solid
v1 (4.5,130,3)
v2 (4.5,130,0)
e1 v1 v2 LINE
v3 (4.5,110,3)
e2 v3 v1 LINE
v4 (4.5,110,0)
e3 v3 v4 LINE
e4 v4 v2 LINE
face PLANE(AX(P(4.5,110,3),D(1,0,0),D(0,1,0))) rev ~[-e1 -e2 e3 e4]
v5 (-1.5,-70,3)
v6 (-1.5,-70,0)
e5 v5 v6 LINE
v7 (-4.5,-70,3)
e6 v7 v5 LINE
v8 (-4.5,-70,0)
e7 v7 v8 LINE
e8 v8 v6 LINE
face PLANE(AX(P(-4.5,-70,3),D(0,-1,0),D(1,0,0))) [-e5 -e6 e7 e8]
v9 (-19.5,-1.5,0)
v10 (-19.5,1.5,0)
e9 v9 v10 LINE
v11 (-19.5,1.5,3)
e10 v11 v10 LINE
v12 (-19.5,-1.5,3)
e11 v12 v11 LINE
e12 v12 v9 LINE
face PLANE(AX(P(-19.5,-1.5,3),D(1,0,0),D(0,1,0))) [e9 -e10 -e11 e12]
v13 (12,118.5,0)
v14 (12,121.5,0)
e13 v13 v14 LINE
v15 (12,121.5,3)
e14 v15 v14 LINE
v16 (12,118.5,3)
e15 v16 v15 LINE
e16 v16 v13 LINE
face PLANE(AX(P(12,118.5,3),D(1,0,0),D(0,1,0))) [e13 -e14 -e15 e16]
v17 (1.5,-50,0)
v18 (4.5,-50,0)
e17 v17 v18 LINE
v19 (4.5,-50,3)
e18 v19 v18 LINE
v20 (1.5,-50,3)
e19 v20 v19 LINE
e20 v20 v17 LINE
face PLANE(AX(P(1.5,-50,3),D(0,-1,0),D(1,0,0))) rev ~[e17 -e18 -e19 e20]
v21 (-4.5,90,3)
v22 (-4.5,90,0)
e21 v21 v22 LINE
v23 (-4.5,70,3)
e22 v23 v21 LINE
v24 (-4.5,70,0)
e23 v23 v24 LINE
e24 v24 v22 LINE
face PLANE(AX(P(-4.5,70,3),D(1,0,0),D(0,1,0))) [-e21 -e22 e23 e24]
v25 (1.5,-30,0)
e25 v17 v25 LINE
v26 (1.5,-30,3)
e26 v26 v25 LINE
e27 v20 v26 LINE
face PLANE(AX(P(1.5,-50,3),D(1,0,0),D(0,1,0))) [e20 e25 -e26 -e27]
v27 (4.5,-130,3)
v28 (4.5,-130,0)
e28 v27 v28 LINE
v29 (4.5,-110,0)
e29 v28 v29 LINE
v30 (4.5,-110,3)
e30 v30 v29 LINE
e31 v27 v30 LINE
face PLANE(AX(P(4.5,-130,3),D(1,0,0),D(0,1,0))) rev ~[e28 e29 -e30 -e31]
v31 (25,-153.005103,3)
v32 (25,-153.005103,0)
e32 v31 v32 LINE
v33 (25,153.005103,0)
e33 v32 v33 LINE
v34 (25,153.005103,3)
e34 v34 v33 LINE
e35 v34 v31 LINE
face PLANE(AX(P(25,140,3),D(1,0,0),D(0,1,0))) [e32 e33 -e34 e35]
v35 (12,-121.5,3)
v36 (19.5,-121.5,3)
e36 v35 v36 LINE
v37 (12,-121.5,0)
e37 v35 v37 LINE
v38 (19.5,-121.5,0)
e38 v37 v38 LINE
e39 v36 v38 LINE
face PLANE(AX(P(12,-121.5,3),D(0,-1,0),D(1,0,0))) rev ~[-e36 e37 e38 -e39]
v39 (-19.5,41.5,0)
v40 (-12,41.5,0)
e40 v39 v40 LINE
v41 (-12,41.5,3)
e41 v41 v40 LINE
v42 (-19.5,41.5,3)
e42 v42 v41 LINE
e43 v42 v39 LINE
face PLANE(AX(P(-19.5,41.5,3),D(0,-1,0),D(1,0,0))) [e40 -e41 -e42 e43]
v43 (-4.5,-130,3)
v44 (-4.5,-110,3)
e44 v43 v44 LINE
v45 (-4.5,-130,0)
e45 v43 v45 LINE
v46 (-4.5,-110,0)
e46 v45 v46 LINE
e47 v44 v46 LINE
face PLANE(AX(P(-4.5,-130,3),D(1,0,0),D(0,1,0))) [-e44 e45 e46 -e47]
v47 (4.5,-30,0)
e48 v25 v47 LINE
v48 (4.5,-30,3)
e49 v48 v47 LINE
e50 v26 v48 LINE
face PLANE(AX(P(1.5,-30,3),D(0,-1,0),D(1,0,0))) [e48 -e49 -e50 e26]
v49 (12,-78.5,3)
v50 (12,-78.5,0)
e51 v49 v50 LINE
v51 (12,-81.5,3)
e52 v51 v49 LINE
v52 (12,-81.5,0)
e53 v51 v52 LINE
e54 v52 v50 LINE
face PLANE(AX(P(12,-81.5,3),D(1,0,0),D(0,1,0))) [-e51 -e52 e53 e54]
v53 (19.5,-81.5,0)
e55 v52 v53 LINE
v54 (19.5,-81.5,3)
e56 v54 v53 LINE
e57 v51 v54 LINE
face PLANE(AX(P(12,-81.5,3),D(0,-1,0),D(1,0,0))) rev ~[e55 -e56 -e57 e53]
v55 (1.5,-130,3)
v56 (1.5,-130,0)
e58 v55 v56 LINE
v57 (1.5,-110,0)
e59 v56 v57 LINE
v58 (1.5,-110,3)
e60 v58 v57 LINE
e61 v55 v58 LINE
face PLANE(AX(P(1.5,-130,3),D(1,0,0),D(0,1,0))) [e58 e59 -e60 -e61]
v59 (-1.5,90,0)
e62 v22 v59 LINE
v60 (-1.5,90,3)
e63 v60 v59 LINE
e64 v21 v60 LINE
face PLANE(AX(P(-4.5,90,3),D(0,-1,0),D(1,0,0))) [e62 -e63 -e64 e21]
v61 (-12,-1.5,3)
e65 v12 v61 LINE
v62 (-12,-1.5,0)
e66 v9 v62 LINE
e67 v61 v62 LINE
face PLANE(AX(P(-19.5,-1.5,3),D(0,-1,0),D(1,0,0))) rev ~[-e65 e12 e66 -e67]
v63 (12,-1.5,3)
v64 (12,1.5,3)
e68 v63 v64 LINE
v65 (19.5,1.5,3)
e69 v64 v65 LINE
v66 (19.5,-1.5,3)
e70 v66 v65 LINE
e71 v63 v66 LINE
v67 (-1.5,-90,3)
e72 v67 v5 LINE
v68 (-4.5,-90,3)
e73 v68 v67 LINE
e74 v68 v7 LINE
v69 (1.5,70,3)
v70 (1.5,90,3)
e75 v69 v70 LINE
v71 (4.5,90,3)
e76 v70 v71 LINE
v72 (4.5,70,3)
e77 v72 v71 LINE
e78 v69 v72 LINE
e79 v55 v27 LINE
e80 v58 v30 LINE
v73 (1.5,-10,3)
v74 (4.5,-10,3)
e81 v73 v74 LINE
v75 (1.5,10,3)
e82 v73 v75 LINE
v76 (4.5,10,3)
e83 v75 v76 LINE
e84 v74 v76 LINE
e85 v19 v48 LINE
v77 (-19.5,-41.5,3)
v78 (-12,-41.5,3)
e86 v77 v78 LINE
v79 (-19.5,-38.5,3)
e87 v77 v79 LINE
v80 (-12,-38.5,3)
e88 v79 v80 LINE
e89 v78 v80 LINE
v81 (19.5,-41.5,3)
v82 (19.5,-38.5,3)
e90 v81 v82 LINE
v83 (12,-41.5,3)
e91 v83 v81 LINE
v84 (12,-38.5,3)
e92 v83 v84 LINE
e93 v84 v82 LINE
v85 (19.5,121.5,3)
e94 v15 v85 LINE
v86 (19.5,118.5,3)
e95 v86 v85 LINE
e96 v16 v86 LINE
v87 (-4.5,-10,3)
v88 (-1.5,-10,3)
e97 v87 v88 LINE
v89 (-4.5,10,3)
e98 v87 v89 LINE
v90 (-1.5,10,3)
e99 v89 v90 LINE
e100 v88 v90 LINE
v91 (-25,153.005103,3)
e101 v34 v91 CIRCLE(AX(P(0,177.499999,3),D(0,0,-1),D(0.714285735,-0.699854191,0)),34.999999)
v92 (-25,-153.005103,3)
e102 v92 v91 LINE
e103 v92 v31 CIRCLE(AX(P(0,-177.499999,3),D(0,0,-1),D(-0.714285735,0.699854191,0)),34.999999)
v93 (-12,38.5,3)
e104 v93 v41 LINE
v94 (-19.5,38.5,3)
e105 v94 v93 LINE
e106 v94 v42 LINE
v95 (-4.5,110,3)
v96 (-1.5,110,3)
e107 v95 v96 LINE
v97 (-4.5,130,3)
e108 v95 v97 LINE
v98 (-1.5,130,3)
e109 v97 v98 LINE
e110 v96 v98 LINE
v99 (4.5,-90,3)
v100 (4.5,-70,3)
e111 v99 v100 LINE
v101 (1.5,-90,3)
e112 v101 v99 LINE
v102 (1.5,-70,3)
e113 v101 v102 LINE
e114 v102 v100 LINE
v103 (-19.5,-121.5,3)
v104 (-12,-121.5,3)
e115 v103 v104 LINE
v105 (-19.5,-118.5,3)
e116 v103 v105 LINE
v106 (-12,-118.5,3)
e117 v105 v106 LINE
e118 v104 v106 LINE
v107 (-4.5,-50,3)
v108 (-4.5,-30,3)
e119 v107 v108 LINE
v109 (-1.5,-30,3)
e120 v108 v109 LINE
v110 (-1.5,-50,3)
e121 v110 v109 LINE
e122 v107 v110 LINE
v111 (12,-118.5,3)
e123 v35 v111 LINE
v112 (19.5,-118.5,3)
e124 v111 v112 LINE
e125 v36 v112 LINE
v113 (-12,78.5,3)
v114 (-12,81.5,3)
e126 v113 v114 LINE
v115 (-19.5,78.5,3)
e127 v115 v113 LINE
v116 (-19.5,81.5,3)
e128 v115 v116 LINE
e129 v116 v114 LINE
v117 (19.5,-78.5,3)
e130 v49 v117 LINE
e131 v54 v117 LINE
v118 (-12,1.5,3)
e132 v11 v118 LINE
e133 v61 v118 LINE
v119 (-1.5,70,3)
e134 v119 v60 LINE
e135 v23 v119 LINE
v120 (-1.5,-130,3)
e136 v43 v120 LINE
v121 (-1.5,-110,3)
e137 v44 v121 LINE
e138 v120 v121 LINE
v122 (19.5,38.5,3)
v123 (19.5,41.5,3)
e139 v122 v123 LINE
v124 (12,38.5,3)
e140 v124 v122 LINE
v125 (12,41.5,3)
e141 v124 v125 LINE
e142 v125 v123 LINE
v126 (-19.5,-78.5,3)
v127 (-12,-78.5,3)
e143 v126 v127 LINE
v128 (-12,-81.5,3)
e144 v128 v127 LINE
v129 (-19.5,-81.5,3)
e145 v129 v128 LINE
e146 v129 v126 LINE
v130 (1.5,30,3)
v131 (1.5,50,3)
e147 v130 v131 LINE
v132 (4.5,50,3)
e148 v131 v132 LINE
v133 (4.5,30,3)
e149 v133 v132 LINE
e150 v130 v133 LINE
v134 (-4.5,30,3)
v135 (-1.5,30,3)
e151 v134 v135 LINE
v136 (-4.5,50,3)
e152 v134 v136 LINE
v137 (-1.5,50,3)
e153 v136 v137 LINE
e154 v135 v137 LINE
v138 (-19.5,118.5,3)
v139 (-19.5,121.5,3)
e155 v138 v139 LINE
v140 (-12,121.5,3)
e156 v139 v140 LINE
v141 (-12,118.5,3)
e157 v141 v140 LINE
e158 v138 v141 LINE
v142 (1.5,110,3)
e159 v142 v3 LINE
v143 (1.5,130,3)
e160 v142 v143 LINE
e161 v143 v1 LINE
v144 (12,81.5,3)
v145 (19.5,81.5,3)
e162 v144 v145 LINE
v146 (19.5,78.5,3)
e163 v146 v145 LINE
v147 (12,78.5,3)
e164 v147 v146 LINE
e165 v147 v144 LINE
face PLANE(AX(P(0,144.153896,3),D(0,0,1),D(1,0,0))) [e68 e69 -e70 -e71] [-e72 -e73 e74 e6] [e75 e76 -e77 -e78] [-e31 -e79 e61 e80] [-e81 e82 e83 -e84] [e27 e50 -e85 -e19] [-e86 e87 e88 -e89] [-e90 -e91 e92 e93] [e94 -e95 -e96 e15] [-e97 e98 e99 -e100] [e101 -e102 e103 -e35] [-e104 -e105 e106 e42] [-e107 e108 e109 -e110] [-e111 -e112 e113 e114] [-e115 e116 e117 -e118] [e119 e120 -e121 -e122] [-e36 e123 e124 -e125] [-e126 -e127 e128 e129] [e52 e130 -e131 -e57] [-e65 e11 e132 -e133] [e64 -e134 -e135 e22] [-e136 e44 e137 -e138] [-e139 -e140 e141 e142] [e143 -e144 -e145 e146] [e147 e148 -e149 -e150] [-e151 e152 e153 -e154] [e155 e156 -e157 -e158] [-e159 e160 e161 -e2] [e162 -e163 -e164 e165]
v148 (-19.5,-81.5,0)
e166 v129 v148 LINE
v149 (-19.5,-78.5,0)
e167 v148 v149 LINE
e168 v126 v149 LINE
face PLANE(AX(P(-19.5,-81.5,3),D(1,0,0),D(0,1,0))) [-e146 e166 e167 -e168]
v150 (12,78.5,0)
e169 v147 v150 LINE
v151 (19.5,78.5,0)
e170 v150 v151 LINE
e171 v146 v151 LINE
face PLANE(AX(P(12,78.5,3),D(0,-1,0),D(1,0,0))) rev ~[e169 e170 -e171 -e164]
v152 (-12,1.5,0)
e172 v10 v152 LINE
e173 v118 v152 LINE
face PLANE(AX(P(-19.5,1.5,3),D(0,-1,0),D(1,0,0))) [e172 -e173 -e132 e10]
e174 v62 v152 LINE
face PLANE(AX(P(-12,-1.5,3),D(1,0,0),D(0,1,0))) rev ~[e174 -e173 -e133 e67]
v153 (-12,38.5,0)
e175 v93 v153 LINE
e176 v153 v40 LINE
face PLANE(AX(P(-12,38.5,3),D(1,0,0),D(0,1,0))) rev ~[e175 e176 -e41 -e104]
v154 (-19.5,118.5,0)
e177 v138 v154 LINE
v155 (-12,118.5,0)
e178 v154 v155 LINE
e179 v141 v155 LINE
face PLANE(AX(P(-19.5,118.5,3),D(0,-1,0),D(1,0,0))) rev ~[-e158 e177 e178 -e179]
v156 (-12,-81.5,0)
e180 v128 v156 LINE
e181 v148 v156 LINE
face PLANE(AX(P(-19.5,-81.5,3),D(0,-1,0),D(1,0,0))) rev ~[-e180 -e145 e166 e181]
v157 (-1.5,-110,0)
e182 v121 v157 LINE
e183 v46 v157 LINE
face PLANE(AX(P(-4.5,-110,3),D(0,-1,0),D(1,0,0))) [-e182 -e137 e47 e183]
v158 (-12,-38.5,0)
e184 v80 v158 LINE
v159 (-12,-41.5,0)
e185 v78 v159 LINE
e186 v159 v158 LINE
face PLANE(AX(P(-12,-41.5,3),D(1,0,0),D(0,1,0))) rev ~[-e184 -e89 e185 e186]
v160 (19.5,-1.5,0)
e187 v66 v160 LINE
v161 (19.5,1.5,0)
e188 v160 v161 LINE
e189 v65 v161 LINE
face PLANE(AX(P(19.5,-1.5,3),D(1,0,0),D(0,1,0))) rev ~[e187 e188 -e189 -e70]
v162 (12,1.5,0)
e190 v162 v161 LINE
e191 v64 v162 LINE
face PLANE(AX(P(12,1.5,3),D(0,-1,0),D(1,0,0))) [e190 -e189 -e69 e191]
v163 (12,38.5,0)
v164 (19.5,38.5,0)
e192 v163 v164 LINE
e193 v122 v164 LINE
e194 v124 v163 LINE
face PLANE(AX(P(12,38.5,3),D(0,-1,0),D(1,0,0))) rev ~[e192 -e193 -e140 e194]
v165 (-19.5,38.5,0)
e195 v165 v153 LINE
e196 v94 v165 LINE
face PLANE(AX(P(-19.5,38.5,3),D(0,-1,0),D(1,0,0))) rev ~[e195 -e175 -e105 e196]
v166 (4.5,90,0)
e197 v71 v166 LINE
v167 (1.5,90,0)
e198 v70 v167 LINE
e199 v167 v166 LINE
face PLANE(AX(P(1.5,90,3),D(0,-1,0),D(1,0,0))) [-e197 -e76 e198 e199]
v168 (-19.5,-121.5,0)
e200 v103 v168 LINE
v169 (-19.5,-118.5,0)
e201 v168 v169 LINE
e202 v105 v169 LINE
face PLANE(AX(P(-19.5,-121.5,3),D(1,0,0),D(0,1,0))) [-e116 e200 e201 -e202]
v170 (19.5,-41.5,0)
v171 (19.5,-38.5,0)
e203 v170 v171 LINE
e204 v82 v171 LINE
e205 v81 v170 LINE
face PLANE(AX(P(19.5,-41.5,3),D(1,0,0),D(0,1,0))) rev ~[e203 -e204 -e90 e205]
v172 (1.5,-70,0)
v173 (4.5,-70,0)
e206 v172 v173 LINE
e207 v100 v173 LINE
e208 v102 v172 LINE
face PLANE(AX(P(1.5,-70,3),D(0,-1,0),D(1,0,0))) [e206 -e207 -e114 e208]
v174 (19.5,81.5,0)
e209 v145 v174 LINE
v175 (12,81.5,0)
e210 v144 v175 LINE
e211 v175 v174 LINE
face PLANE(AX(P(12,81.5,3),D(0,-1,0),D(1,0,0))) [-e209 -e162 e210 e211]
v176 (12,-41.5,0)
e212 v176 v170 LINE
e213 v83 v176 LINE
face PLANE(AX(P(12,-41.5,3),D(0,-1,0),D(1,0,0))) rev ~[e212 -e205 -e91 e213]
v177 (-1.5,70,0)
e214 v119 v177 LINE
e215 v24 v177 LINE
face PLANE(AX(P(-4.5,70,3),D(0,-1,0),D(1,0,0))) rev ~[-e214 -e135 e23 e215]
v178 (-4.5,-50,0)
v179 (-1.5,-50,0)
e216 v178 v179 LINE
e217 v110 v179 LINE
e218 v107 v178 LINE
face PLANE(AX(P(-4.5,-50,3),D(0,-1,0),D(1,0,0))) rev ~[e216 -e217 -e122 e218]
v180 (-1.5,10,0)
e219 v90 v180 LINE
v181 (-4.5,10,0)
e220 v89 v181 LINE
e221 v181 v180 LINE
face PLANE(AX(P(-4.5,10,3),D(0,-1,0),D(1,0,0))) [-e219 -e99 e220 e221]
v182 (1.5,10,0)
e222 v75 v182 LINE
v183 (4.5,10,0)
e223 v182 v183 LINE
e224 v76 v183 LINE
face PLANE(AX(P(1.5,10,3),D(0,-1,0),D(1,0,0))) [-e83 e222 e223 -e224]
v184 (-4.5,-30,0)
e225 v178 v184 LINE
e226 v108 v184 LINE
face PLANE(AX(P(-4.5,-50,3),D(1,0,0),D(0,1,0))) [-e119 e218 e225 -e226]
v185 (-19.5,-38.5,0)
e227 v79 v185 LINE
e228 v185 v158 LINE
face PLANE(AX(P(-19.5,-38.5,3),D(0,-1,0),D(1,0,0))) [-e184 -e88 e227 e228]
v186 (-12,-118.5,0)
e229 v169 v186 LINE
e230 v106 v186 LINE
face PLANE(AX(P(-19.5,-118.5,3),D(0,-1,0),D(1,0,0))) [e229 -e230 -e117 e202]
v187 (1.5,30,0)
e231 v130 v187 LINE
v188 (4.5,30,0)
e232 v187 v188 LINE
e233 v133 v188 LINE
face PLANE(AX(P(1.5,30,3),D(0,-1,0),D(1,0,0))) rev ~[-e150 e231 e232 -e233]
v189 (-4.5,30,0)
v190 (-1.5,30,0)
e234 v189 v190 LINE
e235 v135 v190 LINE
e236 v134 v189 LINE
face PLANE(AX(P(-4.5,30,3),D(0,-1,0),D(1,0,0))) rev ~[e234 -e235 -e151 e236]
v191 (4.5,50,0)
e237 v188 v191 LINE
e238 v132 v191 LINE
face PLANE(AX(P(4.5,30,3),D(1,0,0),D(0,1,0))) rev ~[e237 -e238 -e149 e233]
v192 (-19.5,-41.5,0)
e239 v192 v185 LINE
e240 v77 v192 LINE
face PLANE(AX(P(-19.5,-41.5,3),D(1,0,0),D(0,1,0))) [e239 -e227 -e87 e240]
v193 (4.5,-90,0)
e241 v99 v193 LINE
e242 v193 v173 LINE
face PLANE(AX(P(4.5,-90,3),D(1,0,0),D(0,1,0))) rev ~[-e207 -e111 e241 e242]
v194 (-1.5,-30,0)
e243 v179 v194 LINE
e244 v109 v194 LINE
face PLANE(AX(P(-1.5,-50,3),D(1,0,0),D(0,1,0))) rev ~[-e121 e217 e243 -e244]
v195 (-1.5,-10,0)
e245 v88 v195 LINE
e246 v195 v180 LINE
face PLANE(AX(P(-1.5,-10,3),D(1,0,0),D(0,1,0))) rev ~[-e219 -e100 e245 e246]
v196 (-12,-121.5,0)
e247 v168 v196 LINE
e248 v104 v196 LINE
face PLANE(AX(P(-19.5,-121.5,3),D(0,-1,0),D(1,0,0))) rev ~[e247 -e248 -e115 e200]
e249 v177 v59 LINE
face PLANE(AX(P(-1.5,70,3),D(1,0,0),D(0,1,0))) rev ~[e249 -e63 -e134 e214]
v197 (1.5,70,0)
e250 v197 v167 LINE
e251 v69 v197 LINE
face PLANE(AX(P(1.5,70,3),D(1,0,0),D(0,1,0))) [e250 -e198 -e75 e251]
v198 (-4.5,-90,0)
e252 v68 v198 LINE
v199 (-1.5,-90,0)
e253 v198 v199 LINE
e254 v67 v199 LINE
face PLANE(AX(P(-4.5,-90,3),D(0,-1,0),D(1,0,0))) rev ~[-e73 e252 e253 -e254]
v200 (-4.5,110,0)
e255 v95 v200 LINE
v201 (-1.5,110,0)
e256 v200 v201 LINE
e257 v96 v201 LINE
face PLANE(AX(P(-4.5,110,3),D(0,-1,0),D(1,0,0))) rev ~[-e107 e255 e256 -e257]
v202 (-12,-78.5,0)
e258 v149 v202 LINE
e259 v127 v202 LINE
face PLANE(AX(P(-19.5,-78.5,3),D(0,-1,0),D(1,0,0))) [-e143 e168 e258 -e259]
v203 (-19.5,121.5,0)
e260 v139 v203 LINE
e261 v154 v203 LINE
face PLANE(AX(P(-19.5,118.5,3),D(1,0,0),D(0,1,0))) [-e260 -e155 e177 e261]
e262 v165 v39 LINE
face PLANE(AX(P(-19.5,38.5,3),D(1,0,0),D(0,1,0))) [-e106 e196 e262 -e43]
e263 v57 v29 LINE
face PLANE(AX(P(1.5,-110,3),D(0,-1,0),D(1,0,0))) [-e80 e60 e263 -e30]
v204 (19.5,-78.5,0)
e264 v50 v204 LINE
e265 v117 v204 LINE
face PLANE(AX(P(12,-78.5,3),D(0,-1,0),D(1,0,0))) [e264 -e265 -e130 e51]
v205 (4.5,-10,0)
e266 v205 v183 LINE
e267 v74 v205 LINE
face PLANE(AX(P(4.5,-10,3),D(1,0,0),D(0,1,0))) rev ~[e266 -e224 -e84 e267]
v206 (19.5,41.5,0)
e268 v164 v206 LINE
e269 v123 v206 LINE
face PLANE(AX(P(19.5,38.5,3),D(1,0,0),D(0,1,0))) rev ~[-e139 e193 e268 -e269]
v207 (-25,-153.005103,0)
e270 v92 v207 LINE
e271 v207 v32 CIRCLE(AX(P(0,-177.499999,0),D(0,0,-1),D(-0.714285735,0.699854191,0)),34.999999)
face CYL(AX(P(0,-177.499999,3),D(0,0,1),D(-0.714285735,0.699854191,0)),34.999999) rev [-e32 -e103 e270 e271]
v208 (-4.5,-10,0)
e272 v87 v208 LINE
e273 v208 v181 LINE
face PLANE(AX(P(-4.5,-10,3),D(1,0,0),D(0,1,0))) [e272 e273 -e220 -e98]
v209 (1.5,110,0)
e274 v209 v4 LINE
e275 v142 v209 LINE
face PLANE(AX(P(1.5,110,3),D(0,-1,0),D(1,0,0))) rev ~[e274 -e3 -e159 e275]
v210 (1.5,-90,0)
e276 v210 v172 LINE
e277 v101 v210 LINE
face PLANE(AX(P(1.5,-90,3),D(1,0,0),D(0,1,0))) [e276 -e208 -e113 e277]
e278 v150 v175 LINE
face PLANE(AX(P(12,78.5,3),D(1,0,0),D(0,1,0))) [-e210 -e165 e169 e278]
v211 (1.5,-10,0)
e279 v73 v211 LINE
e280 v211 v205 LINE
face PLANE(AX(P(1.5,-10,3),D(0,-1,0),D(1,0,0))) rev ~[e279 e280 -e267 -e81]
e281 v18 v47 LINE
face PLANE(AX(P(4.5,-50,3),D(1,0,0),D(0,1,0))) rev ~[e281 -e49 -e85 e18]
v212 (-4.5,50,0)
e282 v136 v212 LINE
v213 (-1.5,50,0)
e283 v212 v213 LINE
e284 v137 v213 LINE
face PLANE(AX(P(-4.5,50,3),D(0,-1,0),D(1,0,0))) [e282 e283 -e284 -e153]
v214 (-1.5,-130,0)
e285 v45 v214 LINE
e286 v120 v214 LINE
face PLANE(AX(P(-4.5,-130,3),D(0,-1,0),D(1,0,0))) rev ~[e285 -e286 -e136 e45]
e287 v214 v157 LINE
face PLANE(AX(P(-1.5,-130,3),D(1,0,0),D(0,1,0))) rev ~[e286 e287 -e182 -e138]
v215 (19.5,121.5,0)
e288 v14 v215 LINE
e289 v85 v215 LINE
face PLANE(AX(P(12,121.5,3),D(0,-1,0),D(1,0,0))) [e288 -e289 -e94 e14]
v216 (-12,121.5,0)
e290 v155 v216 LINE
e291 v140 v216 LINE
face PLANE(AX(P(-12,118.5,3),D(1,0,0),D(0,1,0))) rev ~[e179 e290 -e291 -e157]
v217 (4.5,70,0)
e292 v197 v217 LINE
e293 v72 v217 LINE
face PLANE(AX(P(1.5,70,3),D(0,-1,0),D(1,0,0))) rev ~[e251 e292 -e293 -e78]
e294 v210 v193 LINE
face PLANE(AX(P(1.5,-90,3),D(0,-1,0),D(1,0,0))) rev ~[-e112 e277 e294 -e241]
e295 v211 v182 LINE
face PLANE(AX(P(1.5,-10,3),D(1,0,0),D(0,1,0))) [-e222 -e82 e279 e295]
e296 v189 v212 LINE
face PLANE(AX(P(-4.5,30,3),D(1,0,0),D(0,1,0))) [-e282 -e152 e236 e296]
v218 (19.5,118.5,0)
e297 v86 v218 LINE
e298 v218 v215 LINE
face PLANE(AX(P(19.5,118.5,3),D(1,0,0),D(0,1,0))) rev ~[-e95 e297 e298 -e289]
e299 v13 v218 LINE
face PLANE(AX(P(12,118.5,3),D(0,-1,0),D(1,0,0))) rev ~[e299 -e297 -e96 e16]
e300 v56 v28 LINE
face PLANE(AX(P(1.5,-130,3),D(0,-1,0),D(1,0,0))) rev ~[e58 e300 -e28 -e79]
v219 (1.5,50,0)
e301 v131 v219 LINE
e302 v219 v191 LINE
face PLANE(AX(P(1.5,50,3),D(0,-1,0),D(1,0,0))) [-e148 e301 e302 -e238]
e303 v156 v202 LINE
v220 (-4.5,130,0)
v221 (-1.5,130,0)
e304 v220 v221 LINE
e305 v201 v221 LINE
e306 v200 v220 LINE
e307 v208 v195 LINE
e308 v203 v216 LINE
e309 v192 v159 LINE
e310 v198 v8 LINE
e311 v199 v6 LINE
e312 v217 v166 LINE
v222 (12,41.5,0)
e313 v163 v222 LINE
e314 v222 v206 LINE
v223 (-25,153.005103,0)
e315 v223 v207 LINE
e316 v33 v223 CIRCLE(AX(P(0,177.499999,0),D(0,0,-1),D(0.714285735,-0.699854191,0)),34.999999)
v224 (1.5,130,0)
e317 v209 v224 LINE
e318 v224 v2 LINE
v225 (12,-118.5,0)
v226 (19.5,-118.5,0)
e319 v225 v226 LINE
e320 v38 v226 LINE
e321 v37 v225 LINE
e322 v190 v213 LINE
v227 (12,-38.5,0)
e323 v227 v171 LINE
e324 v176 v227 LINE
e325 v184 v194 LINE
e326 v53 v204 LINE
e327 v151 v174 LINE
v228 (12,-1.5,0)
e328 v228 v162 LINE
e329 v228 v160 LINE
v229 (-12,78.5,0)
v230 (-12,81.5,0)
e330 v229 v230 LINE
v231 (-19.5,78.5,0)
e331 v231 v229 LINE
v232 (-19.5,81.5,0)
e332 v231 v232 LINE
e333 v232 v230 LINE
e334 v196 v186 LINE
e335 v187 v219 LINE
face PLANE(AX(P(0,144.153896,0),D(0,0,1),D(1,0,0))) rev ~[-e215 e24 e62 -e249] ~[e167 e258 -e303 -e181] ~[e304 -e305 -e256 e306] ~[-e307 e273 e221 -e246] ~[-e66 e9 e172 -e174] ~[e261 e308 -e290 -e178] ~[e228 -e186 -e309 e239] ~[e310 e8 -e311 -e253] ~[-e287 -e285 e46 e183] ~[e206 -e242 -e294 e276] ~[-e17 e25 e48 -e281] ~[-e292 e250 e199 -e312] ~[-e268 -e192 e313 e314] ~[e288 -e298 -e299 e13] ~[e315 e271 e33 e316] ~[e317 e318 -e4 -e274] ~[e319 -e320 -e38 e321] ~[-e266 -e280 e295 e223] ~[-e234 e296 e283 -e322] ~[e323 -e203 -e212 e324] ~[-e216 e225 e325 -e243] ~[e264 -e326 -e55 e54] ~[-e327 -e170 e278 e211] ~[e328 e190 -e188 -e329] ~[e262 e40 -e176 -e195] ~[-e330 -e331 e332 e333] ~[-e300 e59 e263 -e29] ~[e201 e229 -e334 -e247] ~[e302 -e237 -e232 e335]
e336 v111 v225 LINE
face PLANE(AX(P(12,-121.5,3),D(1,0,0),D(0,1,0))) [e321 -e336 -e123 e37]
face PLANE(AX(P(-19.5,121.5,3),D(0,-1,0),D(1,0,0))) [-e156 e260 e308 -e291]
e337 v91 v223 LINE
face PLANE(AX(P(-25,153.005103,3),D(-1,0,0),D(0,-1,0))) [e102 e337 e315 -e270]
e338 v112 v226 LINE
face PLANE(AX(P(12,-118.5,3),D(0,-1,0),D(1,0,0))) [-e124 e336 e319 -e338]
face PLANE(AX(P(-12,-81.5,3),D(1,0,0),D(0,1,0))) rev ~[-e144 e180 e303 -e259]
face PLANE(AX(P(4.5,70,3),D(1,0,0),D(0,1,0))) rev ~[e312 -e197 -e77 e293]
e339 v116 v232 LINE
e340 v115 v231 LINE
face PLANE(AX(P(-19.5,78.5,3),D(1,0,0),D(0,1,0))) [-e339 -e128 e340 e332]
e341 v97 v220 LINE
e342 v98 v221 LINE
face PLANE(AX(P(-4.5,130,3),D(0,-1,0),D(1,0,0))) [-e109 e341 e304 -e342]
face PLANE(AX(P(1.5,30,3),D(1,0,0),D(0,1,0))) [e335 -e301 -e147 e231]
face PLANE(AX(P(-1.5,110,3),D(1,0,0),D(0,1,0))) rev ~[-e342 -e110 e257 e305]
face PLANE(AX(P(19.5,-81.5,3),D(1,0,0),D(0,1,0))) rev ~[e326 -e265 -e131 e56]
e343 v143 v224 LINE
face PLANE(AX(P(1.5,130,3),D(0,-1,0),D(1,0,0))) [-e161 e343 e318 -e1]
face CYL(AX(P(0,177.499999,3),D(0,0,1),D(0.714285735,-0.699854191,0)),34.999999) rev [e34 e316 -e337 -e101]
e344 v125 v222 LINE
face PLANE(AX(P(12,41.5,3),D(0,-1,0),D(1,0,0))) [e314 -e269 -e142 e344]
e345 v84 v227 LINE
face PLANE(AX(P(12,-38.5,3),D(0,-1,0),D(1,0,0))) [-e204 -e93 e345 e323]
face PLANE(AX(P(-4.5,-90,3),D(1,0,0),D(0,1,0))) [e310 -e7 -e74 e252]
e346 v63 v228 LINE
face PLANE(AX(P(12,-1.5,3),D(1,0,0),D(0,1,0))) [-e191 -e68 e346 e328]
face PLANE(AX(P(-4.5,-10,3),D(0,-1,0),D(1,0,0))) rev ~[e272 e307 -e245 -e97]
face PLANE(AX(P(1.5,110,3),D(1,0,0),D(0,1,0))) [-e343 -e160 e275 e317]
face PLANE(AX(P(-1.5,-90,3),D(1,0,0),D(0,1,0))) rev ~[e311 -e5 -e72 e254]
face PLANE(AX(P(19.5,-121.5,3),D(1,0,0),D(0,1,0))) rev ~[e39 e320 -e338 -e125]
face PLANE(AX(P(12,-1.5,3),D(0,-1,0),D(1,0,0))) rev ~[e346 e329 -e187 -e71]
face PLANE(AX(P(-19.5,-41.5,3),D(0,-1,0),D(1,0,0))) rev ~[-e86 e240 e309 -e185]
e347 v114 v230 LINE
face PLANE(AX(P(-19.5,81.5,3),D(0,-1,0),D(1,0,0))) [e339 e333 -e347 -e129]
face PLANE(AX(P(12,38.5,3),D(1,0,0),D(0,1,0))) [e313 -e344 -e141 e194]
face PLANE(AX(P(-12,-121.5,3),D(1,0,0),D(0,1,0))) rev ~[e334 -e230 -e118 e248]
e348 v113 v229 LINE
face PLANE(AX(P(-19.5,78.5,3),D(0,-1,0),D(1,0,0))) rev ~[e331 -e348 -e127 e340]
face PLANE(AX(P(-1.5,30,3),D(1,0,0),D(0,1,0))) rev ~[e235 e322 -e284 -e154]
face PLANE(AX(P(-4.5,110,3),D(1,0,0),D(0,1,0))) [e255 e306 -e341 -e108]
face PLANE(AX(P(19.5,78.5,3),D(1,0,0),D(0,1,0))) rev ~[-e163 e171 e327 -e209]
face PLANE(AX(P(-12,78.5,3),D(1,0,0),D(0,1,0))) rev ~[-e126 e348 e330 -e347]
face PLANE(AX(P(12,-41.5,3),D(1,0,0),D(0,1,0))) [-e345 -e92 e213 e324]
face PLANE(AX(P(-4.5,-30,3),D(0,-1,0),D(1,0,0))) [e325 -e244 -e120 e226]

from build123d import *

# Parameters (mm, degrees)
F0_W     = 50
F0_H     = 280
F1_DEPTH = 3
F2_W     = 3
F2_H     = 20
F3_DEPTH = 25
F4_W     = 7.5
F4_H     = 3
F5_DEPTH = 25
F7_DEPTH = 3


with BuildPart() as f1:
    # F0 (on Top) → F1 (new body)
    with BuildSketch(Plane.XY):
        Rectangle(F0_W, F0_H)
    extrude(amount=F1_DEPTH)

    # F2 (on face) → F3 (cut)
    with BuildSketch(Plane.XY.offset(3)):
        with Locations((3, 120)):
            Rectangle(F2_W, F2_H)
        with Locations((3, 80)):
            Rectangle(F2_W, F2_H)
        with Locations((3, 40)):
            Rectangle(F2_W, F2_H)
        with Locations((3, 0)):
            Rectangle(F2_W, F2_H)
        with Locations((3, -40)):
            Rectangle(F2_W, F2_H)
        with Locations((3, -80)):
            Rectangle(F2_W, F2_H)
        with Locations((3, -120)):
            Rectangle(F2_W, F2_H)
        with Locations((-3, 120)):
            Rectangle(F2_W, F2_H)
        with Locations((-3, 80)):
            Rectangle(F2_W, F2_H)
        with Locations((-3, 40)):
            Rectangle(F2_W, F2_H)
        with Locations((-3, 0)):
            Rectangle(F2_W, F2_H)
        with Locations((-3, -40)):
            Rectangle(F2_W, F2_H)
        with Locations((-3, -80)):
            Rectangle(F2_W, F2_H)
        with Locations((-3, -120)):
            Rectangle(F2_W, F2_H)
    extrude(amount=-F3_DEPTH, mode=Mode.SUBTRACT)

    # F4 (on face) → F5 (cut)
    with BuildSketch(Plane.XY.offset(3)):
        with Locations((15.75, 120)):
            Rectangle(F4_W, F4_H)
        with Locations((15.75, 80)):
            Rectangle(F4_W, F4_H)
        with Locations((15.75, 40)):
            Rectangle(F4_W, F4_H)
        with Locations((15.75, 0)):
            Rectangle(F4_W, F4_H)
        with Locations((15.75, -40)):
            Rectangle(F4_W, F4_H)
        with Locations((15.75, -80)):
            Rectangle(F4_W, F4_H)
        with Locations((15.75, -120)):
            Rectangle(F4_W, F4_H)
        with Locations((-15.75, 120)):
            Rectangle(F4_W, F4_H)
        with Locations((-15.75, -80)):
            Rectangle(F4_W, F4_H)
        with Locations((-15.75, 40)):
            Rectangle(F4_W, F4_H)
        with Locations((-15.75, 80)):
            Rectangle(F4_W, F4_H)
        with Locations((-15.75, -40)):
            Rectangle(F4_W, F4_H)
        with Locations((-15.75, -120)):
            Rectangle(F4_W, F4_H)
        with Locations((-15.75, 0)):
            Rectangle(F4_W, F4_H)
    extrude(amount=-F5_DEPTH, mode=Mode.SUBTRACT)

    # F6 (on face) → F7 (join)
    with BuildSketch(Plane.XY.offset(3)):
        with BuildLine():
            ThreePointArc((25, 153.005103), (0, 142.5), (-25, 153.005103))
            Line((-25, 153.005103), (-25, 140))
            Line((-25, 140), (25, 140))
            Line((25, 140), (25, 153.005103))
        make_face()
        with BuildLine():
            Line((25, -140), (-25, -140))
            Line((-25, -140), (-25, -153.005103))
            ThreePointArc((-25, -153.005103), (0, -142.5), (25, -153.005103))
            Line((25, -153.005103), (25, -140))
        make_face()
    extrude(amount=-F7_DEPTH)


solid = f1.part
